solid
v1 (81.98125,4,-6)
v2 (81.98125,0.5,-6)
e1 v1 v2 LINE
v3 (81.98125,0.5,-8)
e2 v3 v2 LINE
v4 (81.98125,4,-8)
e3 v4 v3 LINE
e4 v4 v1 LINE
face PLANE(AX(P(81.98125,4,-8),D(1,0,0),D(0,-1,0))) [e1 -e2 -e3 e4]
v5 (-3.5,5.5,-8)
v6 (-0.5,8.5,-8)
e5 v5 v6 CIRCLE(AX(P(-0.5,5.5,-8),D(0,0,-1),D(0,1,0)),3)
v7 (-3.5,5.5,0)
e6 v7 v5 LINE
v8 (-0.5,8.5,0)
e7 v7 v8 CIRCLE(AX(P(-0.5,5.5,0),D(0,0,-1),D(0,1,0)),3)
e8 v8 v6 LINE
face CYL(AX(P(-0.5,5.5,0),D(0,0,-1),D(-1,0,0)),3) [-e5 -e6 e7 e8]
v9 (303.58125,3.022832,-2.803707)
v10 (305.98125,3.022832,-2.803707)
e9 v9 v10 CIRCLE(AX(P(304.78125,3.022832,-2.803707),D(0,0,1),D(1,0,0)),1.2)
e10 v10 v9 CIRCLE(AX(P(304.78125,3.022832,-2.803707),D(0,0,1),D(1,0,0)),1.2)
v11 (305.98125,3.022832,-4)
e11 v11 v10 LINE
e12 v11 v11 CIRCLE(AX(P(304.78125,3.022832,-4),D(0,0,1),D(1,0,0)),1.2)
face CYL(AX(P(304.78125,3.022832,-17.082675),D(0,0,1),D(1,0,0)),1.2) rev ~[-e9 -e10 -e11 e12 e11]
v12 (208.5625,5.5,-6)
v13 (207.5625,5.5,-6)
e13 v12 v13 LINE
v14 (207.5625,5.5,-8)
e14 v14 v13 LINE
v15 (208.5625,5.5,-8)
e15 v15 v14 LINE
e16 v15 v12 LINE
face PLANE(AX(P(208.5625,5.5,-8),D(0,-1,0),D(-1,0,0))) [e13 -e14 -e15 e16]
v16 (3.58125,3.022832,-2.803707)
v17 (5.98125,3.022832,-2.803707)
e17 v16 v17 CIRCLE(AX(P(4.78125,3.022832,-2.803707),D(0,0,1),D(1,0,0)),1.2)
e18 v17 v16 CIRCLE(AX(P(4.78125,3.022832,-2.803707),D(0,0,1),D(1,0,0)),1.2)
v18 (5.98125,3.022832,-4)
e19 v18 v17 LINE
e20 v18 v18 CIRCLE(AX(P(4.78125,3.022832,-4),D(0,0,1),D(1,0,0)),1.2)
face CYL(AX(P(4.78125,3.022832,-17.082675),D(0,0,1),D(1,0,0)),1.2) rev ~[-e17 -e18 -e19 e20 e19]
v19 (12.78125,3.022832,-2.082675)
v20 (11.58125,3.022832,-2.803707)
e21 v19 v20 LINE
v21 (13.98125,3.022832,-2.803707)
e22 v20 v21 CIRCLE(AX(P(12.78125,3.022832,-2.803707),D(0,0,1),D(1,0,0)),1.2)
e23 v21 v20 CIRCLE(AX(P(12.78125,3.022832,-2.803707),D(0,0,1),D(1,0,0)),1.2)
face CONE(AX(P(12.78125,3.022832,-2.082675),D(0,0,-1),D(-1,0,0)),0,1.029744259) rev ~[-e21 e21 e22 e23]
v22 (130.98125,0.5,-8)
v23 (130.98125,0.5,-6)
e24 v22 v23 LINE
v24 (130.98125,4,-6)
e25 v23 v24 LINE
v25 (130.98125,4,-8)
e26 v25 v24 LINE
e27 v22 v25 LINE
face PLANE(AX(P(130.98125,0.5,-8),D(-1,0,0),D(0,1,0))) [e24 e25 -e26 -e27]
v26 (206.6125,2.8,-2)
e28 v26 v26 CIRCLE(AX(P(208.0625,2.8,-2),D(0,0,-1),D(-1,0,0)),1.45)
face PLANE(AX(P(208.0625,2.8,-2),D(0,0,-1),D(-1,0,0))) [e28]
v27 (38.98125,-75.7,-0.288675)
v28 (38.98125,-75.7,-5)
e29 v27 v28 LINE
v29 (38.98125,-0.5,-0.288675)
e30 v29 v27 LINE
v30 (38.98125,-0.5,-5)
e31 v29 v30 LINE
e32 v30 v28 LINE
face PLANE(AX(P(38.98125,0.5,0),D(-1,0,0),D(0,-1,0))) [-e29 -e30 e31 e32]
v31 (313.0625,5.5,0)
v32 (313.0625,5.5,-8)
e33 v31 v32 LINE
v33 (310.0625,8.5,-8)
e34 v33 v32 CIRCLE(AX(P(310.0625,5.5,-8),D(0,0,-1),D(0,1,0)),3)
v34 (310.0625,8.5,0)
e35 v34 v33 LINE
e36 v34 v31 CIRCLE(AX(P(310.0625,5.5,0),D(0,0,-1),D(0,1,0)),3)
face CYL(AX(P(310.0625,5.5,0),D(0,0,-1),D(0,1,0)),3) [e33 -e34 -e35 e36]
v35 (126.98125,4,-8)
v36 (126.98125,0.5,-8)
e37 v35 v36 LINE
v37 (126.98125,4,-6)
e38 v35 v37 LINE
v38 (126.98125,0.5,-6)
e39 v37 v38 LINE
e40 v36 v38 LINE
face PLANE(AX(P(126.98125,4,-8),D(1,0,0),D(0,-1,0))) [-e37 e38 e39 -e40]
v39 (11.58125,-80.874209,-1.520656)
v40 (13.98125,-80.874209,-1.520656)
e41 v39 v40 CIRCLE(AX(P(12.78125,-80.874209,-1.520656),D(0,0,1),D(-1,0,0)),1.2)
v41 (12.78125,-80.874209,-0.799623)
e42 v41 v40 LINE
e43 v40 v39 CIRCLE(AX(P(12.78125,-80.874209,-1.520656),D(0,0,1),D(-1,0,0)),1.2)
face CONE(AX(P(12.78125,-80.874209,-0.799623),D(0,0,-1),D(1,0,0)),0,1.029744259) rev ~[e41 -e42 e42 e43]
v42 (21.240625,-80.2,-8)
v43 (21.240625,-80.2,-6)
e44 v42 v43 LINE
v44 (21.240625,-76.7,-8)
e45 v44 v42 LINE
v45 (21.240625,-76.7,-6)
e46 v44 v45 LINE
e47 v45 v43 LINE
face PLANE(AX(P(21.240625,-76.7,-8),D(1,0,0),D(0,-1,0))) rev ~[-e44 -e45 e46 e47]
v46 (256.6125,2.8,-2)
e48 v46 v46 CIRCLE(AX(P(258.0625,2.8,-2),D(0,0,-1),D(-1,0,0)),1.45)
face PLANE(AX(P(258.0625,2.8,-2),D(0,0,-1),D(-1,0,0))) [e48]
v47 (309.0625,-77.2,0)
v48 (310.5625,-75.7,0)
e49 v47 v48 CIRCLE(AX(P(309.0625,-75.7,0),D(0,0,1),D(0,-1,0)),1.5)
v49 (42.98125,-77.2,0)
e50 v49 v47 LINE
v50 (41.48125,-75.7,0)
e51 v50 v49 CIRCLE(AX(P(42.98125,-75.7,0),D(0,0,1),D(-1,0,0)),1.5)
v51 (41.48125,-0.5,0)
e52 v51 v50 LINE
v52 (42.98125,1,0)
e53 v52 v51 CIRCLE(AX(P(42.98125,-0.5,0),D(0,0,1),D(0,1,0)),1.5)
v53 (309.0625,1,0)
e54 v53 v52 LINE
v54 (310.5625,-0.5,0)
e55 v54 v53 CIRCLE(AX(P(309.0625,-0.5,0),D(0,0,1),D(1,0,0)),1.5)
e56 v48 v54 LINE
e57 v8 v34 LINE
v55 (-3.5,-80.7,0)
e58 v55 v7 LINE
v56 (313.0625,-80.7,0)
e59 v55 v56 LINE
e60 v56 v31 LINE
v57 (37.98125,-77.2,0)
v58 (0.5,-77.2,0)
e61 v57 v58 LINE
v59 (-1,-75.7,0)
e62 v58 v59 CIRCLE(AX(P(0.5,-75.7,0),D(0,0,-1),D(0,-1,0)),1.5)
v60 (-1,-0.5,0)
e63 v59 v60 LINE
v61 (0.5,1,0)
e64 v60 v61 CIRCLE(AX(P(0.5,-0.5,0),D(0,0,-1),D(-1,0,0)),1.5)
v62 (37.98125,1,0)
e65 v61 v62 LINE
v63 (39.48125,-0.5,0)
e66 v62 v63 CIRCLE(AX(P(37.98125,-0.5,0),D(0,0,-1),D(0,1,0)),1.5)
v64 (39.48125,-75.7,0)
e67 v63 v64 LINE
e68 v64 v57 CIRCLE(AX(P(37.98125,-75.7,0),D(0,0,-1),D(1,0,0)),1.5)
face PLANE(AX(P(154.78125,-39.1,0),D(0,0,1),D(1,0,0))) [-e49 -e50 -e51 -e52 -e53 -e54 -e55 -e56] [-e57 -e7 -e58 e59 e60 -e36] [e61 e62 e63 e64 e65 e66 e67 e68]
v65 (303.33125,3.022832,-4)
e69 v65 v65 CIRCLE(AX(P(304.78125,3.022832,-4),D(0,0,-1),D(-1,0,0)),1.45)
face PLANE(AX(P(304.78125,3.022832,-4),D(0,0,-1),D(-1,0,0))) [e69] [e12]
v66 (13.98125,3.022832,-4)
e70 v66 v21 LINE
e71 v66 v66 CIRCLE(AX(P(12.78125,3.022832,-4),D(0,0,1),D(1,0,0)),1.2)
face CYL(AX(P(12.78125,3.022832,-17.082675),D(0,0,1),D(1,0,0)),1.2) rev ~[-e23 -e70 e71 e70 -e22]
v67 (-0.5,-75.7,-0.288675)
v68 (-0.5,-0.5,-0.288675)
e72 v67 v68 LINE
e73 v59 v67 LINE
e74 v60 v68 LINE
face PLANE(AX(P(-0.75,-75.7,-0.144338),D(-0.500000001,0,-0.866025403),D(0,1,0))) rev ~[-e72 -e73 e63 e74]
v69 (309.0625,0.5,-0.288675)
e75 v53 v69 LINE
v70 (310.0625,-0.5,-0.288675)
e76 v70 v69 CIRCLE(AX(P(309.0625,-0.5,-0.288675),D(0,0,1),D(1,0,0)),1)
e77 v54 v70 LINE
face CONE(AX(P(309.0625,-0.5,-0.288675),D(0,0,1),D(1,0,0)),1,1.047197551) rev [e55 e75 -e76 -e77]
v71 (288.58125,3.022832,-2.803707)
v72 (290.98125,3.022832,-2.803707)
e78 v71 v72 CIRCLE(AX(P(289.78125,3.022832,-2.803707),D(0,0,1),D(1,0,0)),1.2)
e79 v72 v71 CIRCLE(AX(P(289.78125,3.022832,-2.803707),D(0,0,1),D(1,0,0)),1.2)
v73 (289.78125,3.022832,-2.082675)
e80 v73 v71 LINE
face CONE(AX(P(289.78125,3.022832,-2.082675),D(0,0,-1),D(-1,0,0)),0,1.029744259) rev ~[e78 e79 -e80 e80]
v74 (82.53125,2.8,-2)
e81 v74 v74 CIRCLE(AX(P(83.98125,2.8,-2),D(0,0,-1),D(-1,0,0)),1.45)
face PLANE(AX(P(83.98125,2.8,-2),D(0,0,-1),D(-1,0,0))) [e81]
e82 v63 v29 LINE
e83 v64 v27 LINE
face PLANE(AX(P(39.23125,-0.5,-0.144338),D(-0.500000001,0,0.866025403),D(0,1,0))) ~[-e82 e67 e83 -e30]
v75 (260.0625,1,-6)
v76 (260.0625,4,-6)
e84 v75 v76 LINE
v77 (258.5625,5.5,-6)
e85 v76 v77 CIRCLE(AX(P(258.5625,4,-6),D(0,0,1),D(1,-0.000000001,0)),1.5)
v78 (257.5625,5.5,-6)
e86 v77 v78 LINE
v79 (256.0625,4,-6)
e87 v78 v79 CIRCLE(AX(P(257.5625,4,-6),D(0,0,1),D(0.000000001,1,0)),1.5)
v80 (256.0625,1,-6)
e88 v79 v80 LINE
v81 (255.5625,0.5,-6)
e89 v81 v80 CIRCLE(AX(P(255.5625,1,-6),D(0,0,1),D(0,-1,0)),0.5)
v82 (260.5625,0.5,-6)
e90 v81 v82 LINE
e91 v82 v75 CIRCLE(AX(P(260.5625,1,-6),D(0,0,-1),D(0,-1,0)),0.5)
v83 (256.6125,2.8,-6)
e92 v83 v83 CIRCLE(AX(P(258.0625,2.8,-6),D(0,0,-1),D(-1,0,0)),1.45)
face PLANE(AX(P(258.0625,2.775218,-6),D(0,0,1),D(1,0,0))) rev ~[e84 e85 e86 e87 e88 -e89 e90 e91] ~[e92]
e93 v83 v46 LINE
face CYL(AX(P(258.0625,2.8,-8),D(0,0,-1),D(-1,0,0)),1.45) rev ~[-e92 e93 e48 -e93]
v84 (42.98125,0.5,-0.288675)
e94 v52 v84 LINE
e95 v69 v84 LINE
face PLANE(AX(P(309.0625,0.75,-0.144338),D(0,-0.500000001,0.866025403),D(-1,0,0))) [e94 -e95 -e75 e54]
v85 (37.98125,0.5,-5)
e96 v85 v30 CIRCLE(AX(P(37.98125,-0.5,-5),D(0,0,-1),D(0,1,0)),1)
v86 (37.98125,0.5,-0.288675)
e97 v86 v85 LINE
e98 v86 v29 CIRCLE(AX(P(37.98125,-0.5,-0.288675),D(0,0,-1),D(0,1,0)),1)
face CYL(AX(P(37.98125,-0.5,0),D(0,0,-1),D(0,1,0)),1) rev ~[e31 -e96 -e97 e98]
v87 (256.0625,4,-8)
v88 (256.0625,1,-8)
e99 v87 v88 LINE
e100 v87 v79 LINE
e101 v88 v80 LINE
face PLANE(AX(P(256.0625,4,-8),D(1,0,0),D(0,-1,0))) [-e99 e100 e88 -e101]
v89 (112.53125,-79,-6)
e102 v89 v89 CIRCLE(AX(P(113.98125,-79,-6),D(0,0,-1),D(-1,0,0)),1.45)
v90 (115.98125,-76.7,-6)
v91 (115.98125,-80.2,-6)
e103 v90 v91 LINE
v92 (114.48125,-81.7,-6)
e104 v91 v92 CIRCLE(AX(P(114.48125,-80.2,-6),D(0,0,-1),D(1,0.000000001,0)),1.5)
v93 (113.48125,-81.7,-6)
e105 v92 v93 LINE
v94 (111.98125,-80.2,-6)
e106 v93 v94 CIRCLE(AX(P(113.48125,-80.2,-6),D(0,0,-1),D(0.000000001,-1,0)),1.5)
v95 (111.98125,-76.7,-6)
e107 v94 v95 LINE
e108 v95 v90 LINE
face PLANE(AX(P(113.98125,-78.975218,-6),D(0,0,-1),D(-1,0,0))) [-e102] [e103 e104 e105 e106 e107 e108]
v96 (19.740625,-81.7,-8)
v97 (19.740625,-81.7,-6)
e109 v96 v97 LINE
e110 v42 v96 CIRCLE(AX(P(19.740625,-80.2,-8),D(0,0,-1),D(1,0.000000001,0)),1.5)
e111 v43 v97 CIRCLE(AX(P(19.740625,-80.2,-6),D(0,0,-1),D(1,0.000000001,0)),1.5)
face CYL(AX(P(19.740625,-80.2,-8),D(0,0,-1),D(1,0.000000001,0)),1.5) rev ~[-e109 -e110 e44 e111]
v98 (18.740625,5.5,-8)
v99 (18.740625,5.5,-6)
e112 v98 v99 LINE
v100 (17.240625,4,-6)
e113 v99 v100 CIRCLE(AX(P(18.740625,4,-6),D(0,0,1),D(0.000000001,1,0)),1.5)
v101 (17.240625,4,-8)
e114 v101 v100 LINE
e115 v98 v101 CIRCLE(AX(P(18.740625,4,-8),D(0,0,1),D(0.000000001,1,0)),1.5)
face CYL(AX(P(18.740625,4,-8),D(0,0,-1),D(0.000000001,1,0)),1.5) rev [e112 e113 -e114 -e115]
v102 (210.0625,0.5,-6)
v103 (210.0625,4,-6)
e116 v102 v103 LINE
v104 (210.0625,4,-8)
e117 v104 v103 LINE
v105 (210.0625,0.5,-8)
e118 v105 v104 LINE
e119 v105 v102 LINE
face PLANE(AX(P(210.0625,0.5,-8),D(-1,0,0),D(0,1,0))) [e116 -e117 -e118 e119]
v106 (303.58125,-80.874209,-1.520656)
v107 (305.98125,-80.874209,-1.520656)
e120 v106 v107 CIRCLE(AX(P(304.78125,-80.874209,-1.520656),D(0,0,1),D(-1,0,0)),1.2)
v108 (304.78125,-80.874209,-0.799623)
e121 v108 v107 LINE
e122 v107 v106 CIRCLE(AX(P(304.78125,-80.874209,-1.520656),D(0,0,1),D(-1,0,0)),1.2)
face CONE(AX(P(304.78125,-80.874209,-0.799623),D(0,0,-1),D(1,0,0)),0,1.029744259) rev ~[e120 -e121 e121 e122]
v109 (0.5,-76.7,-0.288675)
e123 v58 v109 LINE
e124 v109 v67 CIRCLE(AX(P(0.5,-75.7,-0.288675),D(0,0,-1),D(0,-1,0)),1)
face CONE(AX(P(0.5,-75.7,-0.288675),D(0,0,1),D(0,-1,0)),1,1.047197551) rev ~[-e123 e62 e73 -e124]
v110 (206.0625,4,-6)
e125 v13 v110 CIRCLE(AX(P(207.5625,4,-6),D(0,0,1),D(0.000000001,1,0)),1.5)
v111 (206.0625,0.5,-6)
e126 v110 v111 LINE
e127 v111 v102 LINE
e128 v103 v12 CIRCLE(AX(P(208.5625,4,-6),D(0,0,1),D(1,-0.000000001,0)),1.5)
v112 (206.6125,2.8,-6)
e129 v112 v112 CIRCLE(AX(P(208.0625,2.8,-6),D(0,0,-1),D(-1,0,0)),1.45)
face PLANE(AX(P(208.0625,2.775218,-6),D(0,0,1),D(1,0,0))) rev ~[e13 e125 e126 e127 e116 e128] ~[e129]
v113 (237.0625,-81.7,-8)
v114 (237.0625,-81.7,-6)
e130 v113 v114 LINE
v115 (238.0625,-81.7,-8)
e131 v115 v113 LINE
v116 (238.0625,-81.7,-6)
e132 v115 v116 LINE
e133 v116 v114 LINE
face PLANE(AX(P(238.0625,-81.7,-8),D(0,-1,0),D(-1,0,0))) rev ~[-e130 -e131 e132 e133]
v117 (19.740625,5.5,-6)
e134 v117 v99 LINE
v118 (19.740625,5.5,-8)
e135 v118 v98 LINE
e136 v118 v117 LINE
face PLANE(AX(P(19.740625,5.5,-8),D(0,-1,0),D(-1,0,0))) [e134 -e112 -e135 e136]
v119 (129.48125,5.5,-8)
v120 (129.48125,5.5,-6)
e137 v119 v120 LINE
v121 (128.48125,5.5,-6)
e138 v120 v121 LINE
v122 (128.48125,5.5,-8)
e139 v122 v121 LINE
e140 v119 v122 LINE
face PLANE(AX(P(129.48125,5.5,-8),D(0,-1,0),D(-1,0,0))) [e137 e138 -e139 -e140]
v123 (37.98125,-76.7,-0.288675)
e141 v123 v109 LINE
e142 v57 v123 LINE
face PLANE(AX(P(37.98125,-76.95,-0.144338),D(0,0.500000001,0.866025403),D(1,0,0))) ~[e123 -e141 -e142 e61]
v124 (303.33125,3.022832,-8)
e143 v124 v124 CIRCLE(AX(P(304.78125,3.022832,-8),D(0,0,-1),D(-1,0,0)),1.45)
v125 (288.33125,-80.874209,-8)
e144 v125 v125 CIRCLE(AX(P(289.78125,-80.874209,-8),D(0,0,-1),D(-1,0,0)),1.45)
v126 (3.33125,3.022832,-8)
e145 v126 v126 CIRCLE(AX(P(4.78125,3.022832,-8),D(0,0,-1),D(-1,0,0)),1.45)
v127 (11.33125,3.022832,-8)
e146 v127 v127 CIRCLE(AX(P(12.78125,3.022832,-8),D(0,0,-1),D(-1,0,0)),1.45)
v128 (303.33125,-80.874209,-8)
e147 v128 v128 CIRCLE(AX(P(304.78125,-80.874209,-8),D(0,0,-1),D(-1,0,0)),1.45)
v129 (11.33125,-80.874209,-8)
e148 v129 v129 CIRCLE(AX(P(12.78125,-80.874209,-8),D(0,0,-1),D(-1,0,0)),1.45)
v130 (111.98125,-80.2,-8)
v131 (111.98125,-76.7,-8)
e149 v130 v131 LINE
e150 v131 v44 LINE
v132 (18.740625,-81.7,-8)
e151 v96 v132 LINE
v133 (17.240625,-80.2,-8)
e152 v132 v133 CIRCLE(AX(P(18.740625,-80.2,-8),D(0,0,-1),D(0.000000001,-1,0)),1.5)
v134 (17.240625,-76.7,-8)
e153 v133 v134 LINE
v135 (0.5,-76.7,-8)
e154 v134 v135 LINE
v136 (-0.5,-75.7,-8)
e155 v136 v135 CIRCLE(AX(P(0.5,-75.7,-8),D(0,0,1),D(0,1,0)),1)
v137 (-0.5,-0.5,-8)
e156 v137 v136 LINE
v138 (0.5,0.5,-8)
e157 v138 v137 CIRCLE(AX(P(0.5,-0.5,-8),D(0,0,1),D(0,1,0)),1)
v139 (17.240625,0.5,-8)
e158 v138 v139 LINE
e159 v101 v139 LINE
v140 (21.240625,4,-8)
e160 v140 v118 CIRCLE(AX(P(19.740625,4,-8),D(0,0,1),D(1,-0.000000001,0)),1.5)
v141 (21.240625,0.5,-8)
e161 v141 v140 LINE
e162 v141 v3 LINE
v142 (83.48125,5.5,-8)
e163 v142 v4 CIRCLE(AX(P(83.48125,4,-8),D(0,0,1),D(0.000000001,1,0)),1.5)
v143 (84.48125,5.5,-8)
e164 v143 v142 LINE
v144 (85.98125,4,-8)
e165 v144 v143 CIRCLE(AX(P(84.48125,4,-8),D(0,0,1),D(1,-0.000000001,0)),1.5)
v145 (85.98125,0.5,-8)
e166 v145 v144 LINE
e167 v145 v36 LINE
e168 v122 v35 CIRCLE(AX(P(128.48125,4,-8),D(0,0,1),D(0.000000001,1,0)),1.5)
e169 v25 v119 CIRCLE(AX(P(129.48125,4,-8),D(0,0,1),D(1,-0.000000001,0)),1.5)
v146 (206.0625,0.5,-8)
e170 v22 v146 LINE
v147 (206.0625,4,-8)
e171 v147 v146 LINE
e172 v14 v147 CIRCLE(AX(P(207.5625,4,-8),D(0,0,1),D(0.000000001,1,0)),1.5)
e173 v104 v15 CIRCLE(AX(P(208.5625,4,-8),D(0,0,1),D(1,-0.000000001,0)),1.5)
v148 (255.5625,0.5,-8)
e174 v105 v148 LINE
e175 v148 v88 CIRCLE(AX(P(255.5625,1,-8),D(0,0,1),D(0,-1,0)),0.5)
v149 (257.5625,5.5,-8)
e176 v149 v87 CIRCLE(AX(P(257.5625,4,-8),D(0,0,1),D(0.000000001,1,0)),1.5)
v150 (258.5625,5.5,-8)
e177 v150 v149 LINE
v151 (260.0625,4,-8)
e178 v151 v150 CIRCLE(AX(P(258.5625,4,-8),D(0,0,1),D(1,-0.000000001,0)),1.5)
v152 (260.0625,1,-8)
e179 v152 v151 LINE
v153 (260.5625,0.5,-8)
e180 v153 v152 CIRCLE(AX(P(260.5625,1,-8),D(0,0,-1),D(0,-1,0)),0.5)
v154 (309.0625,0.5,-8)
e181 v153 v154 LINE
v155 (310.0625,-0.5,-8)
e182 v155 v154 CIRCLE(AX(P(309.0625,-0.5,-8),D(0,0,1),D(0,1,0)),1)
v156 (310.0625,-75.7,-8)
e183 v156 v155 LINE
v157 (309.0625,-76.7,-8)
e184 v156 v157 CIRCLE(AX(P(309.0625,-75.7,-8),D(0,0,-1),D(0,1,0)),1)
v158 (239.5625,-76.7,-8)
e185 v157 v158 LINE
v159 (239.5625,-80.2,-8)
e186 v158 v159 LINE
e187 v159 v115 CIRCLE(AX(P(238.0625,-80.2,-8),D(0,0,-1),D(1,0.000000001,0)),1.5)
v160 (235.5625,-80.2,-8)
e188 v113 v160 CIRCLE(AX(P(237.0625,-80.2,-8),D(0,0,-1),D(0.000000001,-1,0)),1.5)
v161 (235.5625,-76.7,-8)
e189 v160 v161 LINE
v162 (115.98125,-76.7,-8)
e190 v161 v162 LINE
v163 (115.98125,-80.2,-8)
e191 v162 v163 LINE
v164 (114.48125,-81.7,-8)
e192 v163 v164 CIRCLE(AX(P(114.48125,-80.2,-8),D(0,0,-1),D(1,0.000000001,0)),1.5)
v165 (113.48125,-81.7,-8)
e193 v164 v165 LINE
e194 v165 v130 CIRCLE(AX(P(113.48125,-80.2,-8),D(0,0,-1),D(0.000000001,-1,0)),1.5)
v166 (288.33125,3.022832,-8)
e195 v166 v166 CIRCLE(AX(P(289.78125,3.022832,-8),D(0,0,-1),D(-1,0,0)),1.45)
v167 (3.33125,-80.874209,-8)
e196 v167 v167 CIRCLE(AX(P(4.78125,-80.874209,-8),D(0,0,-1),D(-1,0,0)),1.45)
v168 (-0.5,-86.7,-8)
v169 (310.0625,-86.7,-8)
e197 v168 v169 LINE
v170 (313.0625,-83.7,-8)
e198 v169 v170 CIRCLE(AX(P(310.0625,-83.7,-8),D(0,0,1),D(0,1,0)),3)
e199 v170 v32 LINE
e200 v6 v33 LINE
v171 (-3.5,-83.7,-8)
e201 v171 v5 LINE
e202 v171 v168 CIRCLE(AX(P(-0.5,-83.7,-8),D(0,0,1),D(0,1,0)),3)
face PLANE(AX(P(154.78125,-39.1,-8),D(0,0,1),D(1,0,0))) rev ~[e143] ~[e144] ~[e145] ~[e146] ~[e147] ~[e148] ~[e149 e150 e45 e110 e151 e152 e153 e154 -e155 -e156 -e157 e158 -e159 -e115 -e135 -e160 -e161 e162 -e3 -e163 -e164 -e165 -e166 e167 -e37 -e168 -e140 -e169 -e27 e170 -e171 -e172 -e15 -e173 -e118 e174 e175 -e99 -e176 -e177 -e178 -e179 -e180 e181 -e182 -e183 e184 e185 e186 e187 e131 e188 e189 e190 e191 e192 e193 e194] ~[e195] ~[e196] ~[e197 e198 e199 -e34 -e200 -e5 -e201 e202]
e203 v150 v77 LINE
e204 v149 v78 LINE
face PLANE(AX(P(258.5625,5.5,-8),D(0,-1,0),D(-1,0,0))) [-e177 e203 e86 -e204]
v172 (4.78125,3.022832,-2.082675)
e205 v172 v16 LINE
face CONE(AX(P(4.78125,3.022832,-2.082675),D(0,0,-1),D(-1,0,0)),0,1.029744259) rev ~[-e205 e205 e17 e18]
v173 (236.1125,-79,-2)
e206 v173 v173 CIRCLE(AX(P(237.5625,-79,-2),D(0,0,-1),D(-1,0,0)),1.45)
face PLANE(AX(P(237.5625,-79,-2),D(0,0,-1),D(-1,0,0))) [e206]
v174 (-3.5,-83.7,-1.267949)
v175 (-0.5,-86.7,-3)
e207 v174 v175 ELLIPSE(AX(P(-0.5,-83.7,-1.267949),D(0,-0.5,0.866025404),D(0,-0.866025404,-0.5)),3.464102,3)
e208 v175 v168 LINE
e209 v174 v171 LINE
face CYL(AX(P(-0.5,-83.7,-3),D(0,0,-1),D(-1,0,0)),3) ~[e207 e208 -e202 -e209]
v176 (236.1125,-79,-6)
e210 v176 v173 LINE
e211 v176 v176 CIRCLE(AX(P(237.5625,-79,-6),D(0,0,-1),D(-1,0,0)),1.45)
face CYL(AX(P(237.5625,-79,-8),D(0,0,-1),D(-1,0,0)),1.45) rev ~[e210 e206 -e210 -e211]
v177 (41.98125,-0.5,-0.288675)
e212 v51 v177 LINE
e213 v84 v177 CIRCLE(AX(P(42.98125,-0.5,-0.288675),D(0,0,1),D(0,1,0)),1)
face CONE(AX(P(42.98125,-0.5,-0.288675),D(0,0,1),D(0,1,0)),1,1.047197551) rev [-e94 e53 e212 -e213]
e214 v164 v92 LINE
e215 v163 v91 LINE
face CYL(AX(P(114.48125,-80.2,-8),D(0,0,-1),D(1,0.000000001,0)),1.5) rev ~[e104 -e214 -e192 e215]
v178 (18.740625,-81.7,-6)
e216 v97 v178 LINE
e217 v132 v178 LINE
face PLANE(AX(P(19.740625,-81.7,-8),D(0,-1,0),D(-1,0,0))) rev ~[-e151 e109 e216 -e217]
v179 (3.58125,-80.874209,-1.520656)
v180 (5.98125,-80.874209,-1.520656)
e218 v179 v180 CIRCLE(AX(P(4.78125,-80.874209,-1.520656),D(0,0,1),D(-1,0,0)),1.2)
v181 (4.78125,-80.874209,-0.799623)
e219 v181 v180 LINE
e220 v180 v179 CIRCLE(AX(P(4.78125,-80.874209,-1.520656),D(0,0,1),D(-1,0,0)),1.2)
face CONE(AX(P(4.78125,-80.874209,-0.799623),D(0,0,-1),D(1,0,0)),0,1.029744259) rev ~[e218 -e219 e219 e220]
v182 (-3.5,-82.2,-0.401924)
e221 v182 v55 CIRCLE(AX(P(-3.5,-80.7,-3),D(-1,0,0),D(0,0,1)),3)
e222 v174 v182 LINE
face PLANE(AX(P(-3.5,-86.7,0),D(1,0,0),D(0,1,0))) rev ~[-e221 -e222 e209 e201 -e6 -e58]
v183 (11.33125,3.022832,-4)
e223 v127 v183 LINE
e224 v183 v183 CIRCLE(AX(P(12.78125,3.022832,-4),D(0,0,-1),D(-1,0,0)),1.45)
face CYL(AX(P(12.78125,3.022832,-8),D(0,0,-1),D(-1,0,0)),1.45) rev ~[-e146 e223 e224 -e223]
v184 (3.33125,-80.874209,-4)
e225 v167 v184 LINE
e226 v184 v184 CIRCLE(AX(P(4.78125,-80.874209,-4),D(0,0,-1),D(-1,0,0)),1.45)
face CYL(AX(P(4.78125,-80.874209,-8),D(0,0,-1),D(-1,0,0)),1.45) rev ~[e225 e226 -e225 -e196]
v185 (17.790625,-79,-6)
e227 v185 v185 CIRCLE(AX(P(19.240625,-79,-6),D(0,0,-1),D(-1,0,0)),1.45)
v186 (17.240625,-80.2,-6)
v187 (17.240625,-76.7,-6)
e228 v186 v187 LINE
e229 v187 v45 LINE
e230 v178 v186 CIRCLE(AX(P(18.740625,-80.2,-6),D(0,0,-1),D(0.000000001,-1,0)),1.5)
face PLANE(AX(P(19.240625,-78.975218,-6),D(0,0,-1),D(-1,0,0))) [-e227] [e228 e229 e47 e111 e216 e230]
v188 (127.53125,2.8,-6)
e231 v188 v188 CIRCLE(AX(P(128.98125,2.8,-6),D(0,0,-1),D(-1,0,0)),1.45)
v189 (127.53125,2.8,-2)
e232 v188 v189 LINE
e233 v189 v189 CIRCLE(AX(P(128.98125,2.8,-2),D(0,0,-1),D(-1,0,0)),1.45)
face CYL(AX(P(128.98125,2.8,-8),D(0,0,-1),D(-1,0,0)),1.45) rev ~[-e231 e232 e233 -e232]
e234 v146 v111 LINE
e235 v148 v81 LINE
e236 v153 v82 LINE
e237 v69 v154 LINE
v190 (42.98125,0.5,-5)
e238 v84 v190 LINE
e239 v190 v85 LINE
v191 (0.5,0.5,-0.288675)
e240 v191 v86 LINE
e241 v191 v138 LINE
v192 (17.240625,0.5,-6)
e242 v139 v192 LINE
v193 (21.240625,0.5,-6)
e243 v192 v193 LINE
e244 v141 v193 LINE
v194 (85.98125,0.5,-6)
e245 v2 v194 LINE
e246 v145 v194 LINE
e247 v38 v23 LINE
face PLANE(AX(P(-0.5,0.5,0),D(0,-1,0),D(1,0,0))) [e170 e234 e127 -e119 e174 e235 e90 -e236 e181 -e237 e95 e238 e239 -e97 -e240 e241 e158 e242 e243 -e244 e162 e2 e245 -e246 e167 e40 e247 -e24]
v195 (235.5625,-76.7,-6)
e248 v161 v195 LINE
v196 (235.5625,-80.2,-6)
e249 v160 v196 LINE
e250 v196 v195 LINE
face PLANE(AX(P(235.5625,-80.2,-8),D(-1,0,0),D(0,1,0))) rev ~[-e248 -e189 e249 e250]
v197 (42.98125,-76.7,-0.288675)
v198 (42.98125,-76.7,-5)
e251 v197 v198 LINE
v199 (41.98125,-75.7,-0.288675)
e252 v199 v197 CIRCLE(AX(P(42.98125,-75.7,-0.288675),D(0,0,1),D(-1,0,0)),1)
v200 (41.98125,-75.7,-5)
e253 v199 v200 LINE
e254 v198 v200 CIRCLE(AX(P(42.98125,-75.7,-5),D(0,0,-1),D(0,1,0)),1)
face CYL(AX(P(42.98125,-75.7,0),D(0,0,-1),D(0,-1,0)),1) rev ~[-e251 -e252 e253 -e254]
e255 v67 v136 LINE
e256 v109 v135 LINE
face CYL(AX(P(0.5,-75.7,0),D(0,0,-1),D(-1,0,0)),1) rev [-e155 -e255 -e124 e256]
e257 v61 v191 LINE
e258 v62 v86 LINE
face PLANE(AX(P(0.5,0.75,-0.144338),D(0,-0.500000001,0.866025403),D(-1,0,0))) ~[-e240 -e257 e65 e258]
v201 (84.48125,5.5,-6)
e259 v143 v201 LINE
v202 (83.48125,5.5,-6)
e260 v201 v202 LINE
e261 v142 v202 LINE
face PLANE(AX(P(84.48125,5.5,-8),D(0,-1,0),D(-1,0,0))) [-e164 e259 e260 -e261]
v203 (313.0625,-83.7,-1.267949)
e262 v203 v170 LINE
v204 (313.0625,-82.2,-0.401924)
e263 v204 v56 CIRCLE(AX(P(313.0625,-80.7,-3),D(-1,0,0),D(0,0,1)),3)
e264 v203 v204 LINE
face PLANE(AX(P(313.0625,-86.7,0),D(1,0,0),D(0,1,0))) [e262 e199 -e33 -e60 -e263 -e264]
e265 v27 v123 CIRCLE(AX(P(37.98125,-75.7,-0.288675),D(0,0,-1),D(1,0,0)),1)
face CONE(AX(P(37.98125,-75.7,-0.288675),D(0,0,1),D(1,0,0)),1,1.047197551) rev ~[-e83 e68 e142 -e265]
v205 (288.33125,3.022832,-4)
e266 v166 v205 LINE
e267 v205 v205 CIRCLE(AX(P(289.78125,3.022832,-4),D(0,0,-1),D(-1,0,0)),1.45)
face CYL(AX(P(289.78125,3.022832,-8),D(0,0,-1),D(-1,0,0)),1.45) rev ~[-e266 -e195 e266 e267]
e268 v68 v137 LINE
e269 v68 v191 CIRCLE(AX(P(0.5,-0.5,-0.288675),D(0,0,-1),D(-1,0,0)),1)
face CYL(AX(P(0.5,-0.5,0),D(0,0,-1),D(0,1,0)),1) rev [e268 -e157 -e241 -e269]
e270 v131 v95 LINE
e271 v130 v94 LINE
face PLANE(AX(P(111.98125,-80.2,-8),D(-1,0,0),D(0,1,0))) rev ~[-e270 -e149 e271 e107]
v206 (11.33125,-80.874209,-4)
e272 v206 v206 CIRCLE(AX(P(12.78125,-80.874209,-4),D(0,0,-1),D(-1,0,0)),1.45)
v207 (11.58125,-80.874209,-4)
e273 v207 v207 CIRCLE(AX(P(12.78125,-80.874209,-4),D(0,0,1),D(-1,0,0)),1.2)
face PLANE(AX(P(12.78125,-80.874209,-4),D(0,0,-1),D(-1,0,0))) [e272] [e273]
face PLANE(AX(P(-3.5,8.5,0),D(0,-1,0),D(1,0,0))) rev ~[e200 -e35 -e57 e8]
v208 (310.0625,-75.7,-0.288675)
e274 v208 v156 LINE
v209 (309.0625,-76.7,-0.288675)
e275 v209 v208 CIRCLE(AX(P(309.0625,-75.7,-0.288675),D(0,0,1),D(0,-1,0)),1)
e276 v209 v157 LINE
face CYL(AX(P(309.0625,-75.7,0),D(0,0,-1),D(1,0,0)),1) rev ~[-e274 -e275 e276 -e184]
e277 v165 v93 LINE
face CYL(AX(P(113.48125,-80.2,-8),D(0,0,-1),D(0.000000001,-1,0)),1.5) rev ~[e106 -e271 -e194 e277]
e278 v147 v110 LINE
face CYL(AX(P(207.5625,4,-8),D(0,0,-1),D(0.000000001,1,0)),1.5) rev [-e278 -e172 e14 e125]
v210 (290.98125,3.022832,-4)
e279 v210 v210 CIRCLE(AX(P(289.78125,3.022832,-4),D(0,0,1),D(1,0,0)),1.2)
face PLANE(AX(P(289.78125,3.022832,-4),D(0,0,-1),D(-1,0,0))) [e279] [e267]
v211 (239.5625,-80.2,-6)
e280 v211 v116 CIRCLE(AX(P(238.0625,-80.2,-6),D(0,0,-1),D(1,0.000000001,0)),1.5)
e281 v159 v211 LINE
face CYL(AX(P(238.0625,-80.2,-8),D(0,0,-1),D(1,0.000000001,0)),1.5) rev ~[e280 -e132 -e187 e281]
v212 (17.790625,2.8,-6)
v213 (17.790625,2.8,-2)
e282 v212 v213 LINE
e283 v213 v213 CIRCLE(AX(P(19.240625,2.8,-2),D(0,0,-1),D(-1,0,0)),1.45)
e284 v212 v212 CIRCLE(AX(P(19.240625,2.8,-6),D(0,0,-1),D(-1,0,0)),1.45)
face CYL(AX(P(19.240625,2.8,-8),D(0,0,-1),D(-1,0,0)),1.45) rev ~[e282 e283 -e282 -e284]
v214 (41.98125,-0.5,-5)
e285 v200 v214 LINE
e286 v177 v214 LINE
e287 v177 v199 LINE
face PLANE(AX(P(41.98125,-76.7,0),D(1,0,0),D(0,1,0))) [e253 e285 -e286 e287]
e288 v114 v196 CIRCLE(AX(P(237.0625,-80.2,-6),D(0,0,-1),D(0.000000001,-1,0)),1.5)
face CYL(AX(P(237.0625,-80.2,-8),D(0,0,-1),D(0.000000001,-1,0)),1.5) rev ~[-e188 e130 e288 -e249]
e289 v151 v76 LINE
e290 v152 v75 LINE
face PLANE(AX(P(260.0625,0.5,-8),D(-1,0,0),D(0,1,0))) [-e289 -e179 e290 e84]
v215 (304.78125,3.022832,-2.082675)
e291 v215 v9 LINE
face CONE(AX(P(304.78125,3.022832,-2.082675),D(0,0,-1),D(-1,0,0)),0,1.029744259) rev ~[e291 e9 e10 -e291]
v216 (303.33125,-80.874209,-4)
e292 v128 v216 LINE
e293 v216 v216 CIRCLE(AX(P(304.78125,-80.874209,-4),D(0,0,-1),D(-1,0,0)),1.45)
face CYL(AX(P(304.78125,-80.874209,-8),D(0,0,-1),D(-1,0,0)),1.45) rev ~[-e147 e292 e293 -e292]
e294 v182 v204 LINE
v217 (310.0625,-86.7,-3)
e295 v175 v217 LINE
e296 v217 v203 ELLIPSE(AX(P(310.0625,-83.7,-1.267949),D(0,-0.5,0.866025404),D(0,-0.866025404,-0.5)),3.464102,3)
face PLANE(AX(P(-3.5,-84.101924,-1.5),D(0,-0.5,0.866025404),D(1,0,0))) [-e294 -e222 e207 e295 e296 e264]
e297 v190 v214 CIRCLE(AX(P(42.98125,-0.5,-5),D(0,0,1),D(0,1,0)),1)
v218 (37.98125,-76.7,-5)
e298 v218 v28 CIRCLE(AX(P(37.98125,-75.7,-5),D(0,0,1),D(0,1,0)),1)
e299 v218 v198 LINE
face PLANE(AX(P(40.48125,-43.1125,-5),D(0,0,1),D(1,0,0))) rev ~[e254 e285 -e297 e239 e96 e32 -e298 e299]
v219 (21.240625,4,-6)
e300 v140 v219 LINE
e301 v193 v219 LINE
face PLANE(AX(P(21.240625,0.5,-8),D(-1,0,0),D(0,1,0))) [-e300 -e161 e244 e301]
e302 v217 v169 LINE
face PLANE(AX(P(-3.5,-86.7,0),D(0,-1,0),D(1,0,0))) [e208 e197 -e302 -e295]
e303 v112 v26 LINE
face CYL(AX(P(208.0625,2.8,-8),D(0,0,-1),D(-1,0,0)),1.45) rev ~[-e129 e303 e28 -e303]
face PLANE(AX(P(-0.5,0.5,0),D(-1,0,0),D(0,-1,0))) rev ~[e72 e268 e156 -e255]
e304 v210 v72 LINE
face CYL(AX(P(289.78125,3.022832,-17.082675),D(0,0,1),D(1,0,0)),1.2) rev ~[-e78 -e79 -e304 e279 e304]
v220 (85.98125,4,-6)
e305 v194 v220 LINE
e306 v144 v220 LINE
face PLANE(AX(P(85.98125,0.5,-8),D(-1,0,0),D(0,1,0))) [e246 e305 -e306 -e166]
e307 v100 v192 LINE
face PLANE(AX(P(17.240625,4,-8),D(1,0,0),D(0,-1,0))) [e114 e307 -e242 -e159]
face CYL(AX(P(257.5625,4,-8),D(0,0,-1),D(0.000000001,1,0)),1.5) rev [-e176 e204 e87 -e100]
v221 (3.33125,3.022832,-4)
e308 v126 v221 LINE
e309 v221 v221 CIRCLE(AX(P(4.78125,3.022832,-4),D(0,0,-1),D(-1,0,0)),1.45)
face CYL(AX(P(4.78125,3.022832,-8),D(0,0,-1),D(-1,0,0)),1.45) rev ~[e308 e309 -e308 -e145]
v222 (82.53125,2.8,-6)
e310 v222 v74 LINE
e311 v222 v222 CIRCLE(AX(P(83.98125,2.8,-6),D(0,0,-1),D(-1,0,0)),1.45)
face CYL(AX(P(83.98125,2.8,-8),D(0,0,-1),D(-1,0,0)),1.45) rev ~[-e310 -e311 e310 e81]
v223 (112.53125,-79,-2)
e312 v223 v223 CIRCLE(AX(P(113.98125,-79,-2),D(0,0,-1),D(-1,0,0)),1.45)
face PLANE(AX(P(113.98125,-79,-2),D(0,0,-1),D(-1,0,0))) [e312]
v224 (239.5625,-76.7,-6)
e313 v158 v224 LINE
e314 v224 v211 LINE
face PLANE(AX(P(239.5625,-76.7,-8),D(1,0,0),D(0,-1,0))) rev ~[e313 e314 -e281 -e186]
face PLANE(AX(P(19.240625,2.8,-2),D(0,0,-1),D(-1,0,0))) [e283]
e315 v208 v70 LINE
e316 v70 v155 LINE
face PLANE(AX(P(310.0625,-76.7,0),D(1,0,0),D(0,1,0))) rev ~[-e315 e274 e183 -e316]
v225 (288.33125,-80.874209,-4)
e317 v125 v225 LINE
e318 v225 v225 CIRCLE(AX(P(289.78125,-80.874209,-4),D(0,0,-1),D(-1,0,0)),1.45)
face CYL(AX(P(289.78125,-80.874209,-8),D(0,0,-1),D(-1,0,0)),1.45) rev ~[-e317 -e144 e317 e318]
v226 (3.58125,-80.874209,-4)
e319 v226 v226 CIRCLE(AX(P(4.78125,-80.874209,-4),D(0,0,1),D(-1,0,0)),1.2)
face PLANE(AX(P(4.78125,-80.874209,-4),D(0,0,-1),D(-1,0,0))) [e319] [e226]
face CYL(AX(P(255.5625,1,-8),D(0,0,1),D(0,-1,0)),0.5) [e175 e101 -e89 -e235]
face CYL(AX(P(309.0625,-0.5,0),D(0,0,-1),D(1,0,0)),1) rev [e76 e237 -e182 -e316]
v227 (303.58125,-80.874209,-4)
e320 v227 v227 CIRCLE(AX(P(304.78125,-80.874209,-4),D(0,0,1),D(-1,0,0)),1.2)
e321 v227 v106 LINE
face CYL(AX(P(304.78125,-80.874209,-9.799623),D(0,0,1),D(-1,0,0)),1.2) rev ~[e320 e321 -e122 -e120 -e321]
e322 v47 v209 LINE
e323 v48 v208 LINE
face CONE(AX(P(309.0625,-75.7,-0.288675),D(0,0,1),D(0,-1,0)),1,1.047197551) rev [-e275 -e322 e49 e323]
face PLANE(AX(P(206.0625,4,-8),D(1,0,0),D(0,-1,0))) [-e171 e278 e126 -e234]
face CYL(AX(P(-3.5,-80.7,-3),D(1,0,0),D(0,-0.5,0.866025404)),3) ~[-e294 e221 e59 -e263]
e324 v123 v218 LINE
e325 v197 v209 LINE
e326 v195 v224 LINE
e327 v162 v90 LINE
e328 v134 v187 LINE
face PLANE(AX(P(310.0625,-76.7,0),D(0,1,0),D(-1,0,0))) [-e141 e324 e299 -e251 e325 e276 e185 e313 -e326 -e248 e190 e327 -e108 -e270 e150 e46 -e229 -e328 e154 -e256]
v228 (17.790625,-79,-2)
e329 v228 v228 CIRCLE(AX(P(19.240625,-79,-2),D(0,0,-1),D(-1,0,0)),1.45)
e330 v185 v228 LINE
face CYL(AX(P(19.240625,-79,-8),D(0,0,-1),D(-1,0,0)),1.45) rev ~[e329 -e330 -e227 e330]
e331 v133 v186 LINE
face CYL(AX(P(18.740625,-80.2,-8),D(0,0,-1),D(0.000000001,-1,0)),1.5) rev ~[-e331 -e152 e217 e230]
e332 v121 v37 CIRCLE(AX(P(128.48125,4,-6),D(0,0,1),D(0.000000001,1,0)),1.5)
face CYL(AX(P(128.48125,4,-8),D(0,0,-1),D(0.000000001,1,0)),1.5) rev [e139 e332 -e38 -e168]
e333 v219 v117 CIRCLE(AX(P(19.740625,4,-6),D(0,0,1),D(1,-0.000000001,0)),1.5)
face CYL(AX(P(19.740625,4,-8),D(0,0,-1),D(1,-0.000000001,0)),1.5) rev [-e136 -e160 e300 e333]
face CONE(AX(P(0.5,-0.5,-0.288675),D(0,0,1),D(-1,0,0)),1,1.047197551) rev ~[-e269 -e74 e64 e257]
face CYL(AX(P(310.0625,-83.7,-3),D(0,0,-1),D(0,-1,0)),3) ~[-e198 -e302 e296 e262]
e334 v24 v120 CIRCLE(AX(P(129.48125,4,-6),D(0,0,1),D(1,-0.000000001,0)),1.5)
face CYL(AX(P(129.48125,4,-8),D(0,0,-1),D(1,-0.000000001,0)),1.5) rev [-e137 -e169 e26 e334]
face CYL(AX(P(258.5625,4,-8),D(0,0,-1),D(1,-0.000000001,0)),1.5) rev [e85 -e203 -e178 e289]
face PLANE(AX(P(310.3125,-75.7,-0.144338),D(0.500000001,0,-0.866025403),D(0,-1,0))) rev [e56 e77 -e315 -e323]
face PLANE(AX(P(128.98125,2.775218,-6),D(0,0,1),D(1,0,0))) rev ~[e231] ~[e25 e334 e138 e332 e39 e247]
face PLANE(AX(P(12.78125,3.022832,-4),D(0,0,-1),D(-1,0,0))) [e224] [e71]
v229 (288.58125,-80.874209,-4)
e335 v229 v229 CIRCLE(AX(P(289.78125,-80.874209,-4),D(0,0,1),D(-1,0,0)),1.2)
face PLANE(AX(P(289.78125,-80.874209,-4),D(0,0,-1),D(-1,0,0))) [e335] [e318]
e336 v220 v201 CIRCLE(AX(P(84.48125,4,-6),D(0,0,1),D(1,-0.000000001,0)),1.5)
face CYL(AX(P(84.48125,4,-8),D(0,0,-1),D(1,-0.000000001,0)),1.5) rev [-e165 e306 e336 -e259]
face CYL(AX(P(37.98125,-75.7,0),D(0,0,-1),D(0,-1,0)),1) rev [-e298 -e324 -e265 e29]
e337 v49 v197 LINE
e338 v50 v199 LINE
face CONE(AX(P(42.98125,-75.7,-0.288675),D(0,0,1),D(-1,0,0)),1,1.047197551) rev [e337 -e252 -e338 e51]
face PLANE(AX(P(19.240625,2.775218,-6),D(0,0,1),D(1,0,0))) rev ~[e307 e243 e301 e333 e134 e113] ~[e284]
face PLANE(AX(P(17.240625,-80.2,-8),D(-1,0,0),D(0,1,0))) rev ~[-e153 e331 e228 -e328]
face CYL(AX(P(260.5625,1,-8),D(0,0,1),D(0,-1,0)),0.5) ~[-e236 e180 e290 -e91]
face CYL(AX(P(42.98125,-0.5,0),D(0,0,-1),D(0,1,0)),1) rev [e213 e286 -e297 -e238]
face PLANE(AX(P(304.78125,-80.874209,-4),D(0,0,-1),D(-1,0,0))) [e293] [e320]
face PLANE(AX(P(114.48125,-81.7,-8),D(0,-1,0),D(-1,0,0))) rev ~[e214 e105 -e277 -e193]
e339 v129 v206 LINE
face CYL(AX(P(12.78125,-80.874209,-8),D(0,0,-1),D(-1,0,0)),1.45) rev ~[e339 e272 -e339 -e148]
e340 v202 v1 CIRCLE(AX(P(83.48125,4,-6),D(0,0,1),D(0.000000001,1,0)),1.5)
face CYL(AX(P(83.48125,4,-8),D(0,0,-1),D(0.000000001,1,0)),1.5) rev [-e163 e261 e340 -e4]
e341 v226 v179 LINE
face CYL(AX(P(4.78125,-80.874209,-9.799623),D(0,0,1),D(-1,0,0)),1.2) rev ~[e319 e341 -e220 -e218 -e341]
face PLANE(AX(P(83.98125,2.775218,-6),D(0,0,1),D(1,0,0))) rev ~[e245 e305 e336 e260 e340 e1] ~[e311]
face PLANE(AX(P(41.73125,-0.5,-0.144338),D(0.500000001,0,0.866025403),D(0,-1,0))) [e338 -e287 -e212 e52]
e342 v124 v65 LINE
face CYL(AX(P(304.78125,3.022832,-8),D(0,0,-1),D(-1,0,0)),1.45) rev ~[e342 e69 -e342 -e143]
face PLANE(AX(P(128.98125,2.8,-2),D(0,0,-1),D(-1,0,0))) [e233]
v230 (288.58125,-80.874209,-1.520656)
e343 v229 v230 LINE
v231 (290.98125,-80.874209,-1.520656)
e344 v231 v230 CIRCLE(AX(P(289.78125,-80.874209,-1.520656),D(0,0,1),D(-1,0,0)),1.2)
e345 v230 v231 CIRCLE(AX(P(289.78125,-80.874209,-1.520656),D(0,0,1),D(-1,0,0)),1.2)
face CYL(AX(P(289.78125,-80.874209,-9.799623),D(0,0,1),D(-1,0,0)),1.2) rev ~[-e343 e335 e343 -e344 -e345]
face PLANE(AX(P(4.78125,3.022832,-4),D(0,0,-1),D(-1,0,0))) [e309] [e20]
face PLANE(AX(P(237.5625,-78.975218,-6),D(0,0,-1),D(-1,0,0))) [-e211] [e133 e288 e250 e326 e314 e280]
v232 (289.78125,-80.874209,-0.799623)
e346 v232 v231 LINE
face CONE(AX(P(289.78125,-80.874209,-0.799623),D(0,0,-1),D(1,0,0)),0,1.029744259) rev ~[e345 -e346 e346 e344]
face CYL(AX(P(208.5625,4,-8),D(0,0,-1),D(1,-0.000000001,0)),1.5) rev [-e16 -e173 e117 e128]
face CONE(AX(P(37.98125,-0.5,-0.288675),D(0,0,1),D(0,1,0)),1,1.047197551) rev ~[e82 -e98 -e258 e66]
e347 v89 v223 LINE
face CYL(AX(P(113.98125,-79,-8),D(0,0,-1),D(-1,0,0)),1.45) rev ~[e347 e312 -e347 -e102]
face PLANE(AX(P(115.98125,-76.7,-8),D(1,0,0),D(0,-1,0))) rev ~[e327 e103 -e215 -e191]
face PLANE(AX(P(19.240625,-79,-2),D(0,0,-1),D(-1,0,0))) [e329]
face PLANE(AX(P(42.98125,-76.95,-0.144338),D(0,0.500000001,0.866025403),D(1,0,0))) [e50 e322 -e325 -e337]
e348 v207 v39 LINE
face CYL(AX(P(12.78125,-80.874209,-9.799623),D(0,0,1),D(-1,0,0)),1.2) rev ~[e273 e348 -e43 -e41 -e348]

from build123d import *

# Parameters (mm, degrees)
SKETCH3_W                      = 316.5625
SKETCH3_H                      = 95.2
BOSS_EXTRUDE1_DEPTH            = 8
SKETCH3_3_W                    = 3
SKETCH3_3_H                    = 67.175
SKETCH3_3_H_2                  = 10.025
BOSS_EXTRUDE2_DEPTH            = 5
CHAMFER1_SIZE                  = 3
CHAMFER1_SIZE2                 = 5.196152423
FILLET3_R                      = 3
SKETCH8_R                      = 1.45
CUT_EXTRUDE1_DEPTH             = 2
SKETCH8_3_R                    = 1.45
CUT_EXTRUDE4_DEPTH             = 6
FILLET1_R                      = 3
FILLET5_R                      = 1
CHAMFER2_SIZE                  = 0.5
CHAMFER2_SIZE2                 = 0.288675135
FILLET6_R                      = 0.5
CBORE_FOR_M2_SHCS2_D           = 2.4
CBORE_FOR_M2_SHCS2_DEPTH       = 14.278967257
CBORE_FOR_M2_SHCS2_CBORE_D     = 4.4
CBORE_FOR_M2_SHCS2_CBORE_DEPTH = 4
CBORE_FOR_M2_SHCS2_TIP         = 0.721032743
HOLE_WIZARD_5794_D             = 2.4
HOLE_WIZARD_5794_DEPTH         = 8.278967257
HOLE_WIZARD_5794_CSINK_D       = 4.4
HOLE_WIZARD_5794_CSINK_ANGLE   = 90
HOLE_WIZARD_5794_TIP           = 0.721032743
SKETCH11_R                     = 1.45
CUT_EXTRUDE2_DEPTH             = 4
SKETCH11_3_R                   = 1.45
CUT_EXTRUDE3_DEPTH             = 4


with BuildPart() as part:
    # Sketch3 → Boss-Extrude1 (new body)
    with BuildSketch(Plane.XY):
        with Locations((154.78125, -39.1)):
            Rectangle(SKETCH3_W, SKETCH3_H)
        Polygon((38.98125, -76.7), (41.98125, -76.7), (310.0625, -76.7), (310.0625, 0.5), (41.98125, 0.5), (38.98125, 0.5), (-0.5, 0.5), (-0.5, -76.7), align=None, mode=Mode.SUBTRACT)
    extrude(amount=-BOSS_EXTRUDE1_DEPTH)

    # Sketch3<3> → Boss-Extrude2 (add)
    with BuildSketch(Plane.XY):
        with Locations((40.48125, -43.1125)):
            Rectangle(SKETCH3_3_W, SKETCH3_3_H)
        with Locations((40.48125, -4.5125)):
            Rectangle(SKETCH3_3_W, SKETCH3_3_H_2)
    extrude(amount=-BOSS_EXTRUDE2_DEPTH)

    # Chamfer1
    chamfer1_edges = [part.edges().sort_by_distance(p)[0] for p in [
        (154.78125, -86.7, 0),
    ]]
    chamfer1_side = [part.faces().sort_by_distance(p)[0] for p in [
        (154.78125, -86.7, -4),
    ]]
    chamfer(chamfer1_edges, length=CHAMFER1_SIZE, length2=CHAMFER1_SIZE2, reference=chamfer1_side[0])

    # Fillet3
    fillet3_edges = [part.edges().sort_by_distance(p)[0] for p in [
        (154.78125, -81.503847577, 0),
    ]]
    fillet(fillet3_edges, radius=FILLET3_R)

    # Sketch8 → Cut-Extrude1 (cut)
    # profile 1 of 8: a face of its own
    with BuildSketch(Plane(origin=(0, 0, -8), x_dir=(-1, 0, 0), z_dir=(0, 0, -1))):
        with BuildLine():
            Line((-260.0625, 0.5), (-260.0625, 4))
            ThreePointArc((-260.0625, 4), (-259.623160172, 5.060660172), (-258.5625, 5.5))
            Line((-258.5625, 5.5), (-257.5625, 5.5))
            ThreePointArc((-257.5625, 5.5), (-256.501839828, 5.060660172), (-256.0625, 4))
            Line((-256.0625, 4), (-256.0625, 0.5))
            Line((-256.0625, 0.5), (-260.0625, 0.5))
        make_face()
        with Locations((-258.0625, 2.8)):
            Circle(SKETCH8_R, mode=Mode.SUBTRACT)
    # profile 2 of 8: a face of its own
    with BuildSketch(Plane(origin=(0, 0, -8), x_dir=(-1, 0, 0), z_dir=(0, 0, -1))):
        with BuildLine():
            Line((-115.98125, -76.7), (-115.98125, -80.2))
            ThreePointArc((-115.98125, -80.2), (-115.541910172, -81.260660172), (-114.48125, -81.7))
            Line((-114.48125, -81.7), (-113.48125, -81.7))
            ThreePointArc((-113.48125, -81.7), (-112.420589828, -81.260660172), (-111.98125, -80.2))
            Line((-111.98125, -80.2), (-111.98125, -76.7))
            Line((-111.98125, -76.7), (-115.98125, -76.7))
        make_face()
        with Locations((-113.98125, -79)):
            Circle(SKETCH8_R, mode=Mode.SUBTRACT)
    # profile 3 of 8: a face of its own
    with BuildSketch(Plane(origin=(0, 0, -8), x_dir=(-1, 0, 0), z_dir=(0, 0, -1))):
        with BuildLine():
            Line((-210.0625, 0.5), (-210.0625, 4))
            ThreePointArc((-210.0625, 4), (-209.623160172, 5.060660172), (-208.5625, 5.5))
            Line((-208.5625, 5.5), (-207.5625, 5.5))
            ThreePointArc((-207.5625, 5.5), (-206.501839828, 5.060660172), (-206.0625, 4))
            Line((-206.0625, 4), (-206.0625, 0.5))
            Line((-206.0625, 0.5), (-210.0625, 0.5))
        make_face()
        with Locations((-208.0625, 2.8)):
            Circle(SKETCH8_R, mode=Mode.SUBTRACT)
    # profile 4 of 8: a face of its own
    with BuildSketch(Plane(origin=(0, 0, -8), x_dir=(-1, 0, 0), z_dir=(0, 0, -1))):
        with BuildLine():
            Line((-130.98125, 0.5), (-130.98125, 4))
            ThreePointArc((-130.98125, 4), (-130.541910172, 5.060660172), (-129.48125, 5.5))
            Line((-129.48125, 5.5), (-128.48125, 5.5))
            ThreePointArc((-128.48125, 5.5), (-127.420589828, 5.060660172), (-126.98125, 4))
            Line((-126.98125, 4), (-126.98125, 0.5))
            Line((-126.98125, 0.5), (-130.98125, 0.5))
        make_face()
        with Locations((-128.98125, 2.8)):
            Circle(SKETCH8_R, mode=Mode.SUBTRACT)
    # profile 5 of 8: a face of its own
    with BuildSketch(Plane(origin=(0, 0, -8), x_dir=(-1, 0, 0), z_dir=(0, 0, -1))):
        with BuildLine():
            Line((-85.98125, 0.5), (-85.98125, 4))
            ThreePointArc((-85.98125, 4), (-85.541910172, 5.060660172), (-84.48125, 5.5))
            Line((-84.48125, 5.5), (-83.48125, 5.5))
            ThreePointArc((-83.48125, 5.5), (-82.420589828, 5.060660172), (-81.98125, 4))
            Line((-81.98125, 4), (-81.98125, 0.5))
            Line((-81.98125, 0.5), (-85.98125, 0.5))
        make_face()
        with Locations((-83.98125, 2.8)):
            Circle(SKETCH8_R, mode=Mode.SUBTRACT)
    # profile 6 of 8: a face of its own
    with BuildSketch(Plane(origin=(0, 0, -8), x_dir=(-1, 0, 0), z_dir=(0, 0, -1))):
        with BuildLine():
            Line((-21.240625, 0.5), (-21.240625, 4))
            ThreePointArc((-21.240625, 4), (-20.801285172, 5.060660172), (-19.740625, 5.5))
            Line((-19.740625, 5.5), (-18.740625, 5.5))
            ThreePointArc((-18.740625, 5.5), (-17.679964828, 5.060660172), (-17.240625, 4))
            Line((-17.240625, 4), (-17.240625, 0.5))
            Line((-17.240625, 0.5), (-21.240625, 0.5))
        make_face()
        with Locations((-19.240625, 2.8)):
            Circle(SKETCH8_R, mode=Mode.SUBTRACT)
    # profile 7 of 8: a face of its own
    with BuildSketch(Plane(origin=(0, 0, -8), x_dir=(-1, 0, 0), z_dir=(0, 0, -1))):
        with BuildLine():
            Line((-239.5625, -76.7), (-239.5625, -80.2))
            ThreePointArc((-239.5625, -80.2), (-239.123160172, -81.260660172), (-238.0625, -81.7))
            Line((-238.0625, -81.7), (-237.0625, -81.7))
            ThreePointArc((-237.0625, -81.7), (-236.001839828, -81.260660172), (-235.5625, -80.2))
            Line((-235.5625, -80.2), (-235.5625, -76.7))
            Line((-235.5625, -76.7), (-239.5625, -76.7))
        make_face()
        with Locations((-237.5625, -79)):
            Circle(SKETCH8_R, mode=Mode.SUBTRACT)
    # profile 8 of 8: a face of its own
    with BuildSketch(Plane(origin=(0, 0, -8), x_dir=(-1, 0, 0), z_dir=(0, 0, -1))):
        with BuildLine():
            Line((-21.240625, -76.7), (-21.240625, -80.2))
            ThreePointArc((-21.240625, -80.2), (-20.801285172, -81.260660172), (-19.740625, -81.7))
            Line((-19.740625, -81.7), (-18.740625, -81.7))
            ThreePointArc((-18.740625, -81.7), (-17.679964828, -81.260660172), (-17.240625, -80.2))
            Line((-17.240625, -80.2), (-17.240625, -76.7))
            Line((-17.240625, -76.7), (-21.240625, -76.7))
        make_face()
        with Locations((-19.240625, -79)):
            Circle(SKETCH8_R, mode=Mode.SUBTRACT)
    extrude(amount=-CUT_EXTRUDE1_DEPTH, mode=Mode.SUBTRACT)

    # Sketch8<3> → Cut-Extrude4 (cut)
    with BuildSketch(Plane(origin=(0, 0, -8), x_dir=(-1, 0, 0), z_dir=(0, 0, -1))):
        with Locations((-258.0625, 2.8)):
            Circle(SKETCH8_3_R)
        with Locations((-208.0625, 2.8)):
            Circle(SKETCH8_3_R)
        with Locations((-128.98125, 2.8)):
            Circle(SKETCH8_3_R)
        with Locations((-83.98125, 2.8)):
            Circle(SKETCH8_3_R)
        with Locations((-19.240625, 2.8)):
            Circle(SKETCH8_3_R)
        with Locations((-19.240625, -79)):
            Circle(SKETCH8_3_R)
        with Locations((-113.98125, -79)):
            Circle(SKETCH8_3_R)
        with Locations((-237.5625, -79)):
            Circle(SKETCH8_3_R)
    extrude(amount=-CUT_EXTRUDE4_DEPTH, mode=Mode.SUBTRACT)

    # Fillet1
    fillet1_edges = [part.edges().sort_by_distance(p)[0] for p in [
        (313.0625, -86.7, -5.5),
        (-3.5, -86.7, -5.5),
        (-3.5, 8.5, -4),
        (313.0625, 8.5, -4),
    ]]
    fillet(fillet1_edges, radius=FILLET1_R)

    # Fillet5
    fillet5_edges = [part.edges().sort_by_distance(p)[0] for p in [
        (310.0625, -76.7, -4),
        (310.0625, 0.5, -4),
        (-0.5, 0.5, -4),
        (-0.5, -76.7, -4),
        (41.98125, 0.5, -2.5),
        (41.98125, -76.7, -2.5),
        (38.98125, -76.7, -2.5),
        (38.98125, 0.5, -2.5),
    ]]
    fillet(fillet5_edges, radius=FILLET5_R)

    # Chamfer2
    chamfer2_edges = [part.edges().sort_by_distance(p)[0] for p in [
        (310.0625, -38.1, 0),
        (19.240625, -76.7, 0),
        (176.021875, -76.7, 0),
        (176.021875, 0.5, 0),
        (19.240625, 0.5, 0),
        (41.98125, -38.1, 0),
        (38.98125, -38.1, 0),
        (-0.5, -38.1, 0),
        (309.769606781, -76.407106781, 0),
        (309.769606781, 0.207106781, 0),
        (42.274143219, 0.207106781, 0),
        (42.274143219, -76.407106781, 0),
        (38.688356781, -76.407106781, 0),
        (-0.207106781, -76.407106781, 0),
        (-0.207106781, 0.207106781, 0),
        (38.688356781, 0.207106781, 0),
    ]]
    chamfer2_side = [part.faces().sort_by_distance(p)[0] for p in [
        (310.391389733, -38.1, 0),
    ]]
    chamfer(chamfer2_edges, length=CHAMFER2_SIZE, length2=CHAMFER2_SIZE2, reference=chamfer2_side[0])

    # Fillet6
    fillet6_edges = [part.edges().sort_by_distance(p)[0] for p in [
        (256.0625, 0.5, -7),
        (260.0625, 0.5, -7),
    ]]
    fillet(fillet6_edges, radius=FILLET6_R)

    # CBORE for M2 SHCS2
    with Locations(Plane(origin=(0, -0.720708302, -17.082674747), x_dir=(-1, 0, 0), z_dir=(0, 0, -1))):
        with Locations((-304.78125, 3.743540113), (-4.78125, 3.743540113), (-289.78125, 3.743540113), (-12.78125, 3.743540113)):
            CounterBoreHole(CBORE_FOR_M2_SHCS2_D / 2, CBORE_FOR_M2_SHCS2_CBORE_D / 2, CBORE_FOR_M2_SHCS2_CBORE_DEPTH, depth=CBORE_FOR_M2_SHCS2_DEPTH)
            with Locations((0, 0, -(CBORE_FOR_M2_SHCS2_DEPTH + CBORE_FOR_M2_SHCS2_TIP / 2))):  # 118° drill point
                Cone(0, CBORE_FOR_M2_SHCS2_D / 2, CBORE_FOR_M2_SHCS2_TIP, mode=Mode.SUBTRACT)

    # Hole Wizard 5794
    with Locations(Plane(origin=(0, 0, -9.799622892), x_dir=(1, 0, 0), z_dir=(0, 0, -1))):
        with Locations((4.78125, 80.87420884), (304.78125, 80.87420884), (289.78125, 80.87420884), (12.78125, 80.87420884)):
            CounterSinkHole(HOLE_WIZARD_5794_D / 2, HOLE_WIZARD_5794_CSINK_D / 2, depth=HOLE_WIZARD_5794_DEPTH, counter_sink_angle=HOLE_WIZARD_5794_CSINK_ANGLE)
            with Locations((0, 0, -(HOLE_WIZARD_5794_DEPTH + HOLE_WIZARD_5794_TIP / 2))):  # 118° drill point
                Cone(0, HOLE_WIZARD_5794_D / 2, HOLE_WIZARD_5794_TIP, mode=Mode.SUBTRACT)

    # Sketch11 → Cut-Extrude2 (cut)
    with BuildSketch(Plane(origin=(0, 0, -8), x_dir=(-1, 0, 0), z_dir=(0, 0, -1))):
        with Locations((-304.78125, 3.022831811)):
            Circle(SKETCH11_R)
        with Locations((-289.78125, 3.022831811)):
            Circle(SKETCH11_R)
        with Locations((-12.78125, 3.022831811)):
            Circle(SKETCH11_R)
        with Locations((-4.78125, 3.022831811)):
            Circle(SKETCH11_R)
    extrude(amount=-CUT_EXTRUDE2_DEPTH, mode=Mode.SUBTRACT)

    # Sketch11<3> → Cut-Extrude3 (cut)
    with BuildSketch(Plane(origin=(0, 0, -8), x_dir=(-1, 0, 0), z_dir=(0, 0, -1))):
        with Locations((-304.78125, 3.022831811)):
            Circle(SKETCH11_3_R)
        with Locations((-289.78125, 3.022831811)):
            Circle(SKETCH11_3_R)
        with Locations((-12.78125, 3.022831811)):
            Circle(SKETCH11_3_R)
        with Locations((-4.78125, 3.022831811)):
            Circle(SKETCH11_3_R)
        with Locations((-4.78125, -80.87420884)):
            Circle(SKETCH11_3_R)
        with Locations((-12.78125, -80.87420884)):
            Circle(SKETCH11_3_R)
        with Locations((-289.78125, -80.87420884)):
            Circle(SKETCH11_3_R)
        with Locations((-304.78125, -80.87420884)):
            Circle(SKETCH11_3_R)
    extrude(amount=-CUT_EXTRUDE3_DEPTH, mode=Mode.SUBTRACT)


solid = part.part
